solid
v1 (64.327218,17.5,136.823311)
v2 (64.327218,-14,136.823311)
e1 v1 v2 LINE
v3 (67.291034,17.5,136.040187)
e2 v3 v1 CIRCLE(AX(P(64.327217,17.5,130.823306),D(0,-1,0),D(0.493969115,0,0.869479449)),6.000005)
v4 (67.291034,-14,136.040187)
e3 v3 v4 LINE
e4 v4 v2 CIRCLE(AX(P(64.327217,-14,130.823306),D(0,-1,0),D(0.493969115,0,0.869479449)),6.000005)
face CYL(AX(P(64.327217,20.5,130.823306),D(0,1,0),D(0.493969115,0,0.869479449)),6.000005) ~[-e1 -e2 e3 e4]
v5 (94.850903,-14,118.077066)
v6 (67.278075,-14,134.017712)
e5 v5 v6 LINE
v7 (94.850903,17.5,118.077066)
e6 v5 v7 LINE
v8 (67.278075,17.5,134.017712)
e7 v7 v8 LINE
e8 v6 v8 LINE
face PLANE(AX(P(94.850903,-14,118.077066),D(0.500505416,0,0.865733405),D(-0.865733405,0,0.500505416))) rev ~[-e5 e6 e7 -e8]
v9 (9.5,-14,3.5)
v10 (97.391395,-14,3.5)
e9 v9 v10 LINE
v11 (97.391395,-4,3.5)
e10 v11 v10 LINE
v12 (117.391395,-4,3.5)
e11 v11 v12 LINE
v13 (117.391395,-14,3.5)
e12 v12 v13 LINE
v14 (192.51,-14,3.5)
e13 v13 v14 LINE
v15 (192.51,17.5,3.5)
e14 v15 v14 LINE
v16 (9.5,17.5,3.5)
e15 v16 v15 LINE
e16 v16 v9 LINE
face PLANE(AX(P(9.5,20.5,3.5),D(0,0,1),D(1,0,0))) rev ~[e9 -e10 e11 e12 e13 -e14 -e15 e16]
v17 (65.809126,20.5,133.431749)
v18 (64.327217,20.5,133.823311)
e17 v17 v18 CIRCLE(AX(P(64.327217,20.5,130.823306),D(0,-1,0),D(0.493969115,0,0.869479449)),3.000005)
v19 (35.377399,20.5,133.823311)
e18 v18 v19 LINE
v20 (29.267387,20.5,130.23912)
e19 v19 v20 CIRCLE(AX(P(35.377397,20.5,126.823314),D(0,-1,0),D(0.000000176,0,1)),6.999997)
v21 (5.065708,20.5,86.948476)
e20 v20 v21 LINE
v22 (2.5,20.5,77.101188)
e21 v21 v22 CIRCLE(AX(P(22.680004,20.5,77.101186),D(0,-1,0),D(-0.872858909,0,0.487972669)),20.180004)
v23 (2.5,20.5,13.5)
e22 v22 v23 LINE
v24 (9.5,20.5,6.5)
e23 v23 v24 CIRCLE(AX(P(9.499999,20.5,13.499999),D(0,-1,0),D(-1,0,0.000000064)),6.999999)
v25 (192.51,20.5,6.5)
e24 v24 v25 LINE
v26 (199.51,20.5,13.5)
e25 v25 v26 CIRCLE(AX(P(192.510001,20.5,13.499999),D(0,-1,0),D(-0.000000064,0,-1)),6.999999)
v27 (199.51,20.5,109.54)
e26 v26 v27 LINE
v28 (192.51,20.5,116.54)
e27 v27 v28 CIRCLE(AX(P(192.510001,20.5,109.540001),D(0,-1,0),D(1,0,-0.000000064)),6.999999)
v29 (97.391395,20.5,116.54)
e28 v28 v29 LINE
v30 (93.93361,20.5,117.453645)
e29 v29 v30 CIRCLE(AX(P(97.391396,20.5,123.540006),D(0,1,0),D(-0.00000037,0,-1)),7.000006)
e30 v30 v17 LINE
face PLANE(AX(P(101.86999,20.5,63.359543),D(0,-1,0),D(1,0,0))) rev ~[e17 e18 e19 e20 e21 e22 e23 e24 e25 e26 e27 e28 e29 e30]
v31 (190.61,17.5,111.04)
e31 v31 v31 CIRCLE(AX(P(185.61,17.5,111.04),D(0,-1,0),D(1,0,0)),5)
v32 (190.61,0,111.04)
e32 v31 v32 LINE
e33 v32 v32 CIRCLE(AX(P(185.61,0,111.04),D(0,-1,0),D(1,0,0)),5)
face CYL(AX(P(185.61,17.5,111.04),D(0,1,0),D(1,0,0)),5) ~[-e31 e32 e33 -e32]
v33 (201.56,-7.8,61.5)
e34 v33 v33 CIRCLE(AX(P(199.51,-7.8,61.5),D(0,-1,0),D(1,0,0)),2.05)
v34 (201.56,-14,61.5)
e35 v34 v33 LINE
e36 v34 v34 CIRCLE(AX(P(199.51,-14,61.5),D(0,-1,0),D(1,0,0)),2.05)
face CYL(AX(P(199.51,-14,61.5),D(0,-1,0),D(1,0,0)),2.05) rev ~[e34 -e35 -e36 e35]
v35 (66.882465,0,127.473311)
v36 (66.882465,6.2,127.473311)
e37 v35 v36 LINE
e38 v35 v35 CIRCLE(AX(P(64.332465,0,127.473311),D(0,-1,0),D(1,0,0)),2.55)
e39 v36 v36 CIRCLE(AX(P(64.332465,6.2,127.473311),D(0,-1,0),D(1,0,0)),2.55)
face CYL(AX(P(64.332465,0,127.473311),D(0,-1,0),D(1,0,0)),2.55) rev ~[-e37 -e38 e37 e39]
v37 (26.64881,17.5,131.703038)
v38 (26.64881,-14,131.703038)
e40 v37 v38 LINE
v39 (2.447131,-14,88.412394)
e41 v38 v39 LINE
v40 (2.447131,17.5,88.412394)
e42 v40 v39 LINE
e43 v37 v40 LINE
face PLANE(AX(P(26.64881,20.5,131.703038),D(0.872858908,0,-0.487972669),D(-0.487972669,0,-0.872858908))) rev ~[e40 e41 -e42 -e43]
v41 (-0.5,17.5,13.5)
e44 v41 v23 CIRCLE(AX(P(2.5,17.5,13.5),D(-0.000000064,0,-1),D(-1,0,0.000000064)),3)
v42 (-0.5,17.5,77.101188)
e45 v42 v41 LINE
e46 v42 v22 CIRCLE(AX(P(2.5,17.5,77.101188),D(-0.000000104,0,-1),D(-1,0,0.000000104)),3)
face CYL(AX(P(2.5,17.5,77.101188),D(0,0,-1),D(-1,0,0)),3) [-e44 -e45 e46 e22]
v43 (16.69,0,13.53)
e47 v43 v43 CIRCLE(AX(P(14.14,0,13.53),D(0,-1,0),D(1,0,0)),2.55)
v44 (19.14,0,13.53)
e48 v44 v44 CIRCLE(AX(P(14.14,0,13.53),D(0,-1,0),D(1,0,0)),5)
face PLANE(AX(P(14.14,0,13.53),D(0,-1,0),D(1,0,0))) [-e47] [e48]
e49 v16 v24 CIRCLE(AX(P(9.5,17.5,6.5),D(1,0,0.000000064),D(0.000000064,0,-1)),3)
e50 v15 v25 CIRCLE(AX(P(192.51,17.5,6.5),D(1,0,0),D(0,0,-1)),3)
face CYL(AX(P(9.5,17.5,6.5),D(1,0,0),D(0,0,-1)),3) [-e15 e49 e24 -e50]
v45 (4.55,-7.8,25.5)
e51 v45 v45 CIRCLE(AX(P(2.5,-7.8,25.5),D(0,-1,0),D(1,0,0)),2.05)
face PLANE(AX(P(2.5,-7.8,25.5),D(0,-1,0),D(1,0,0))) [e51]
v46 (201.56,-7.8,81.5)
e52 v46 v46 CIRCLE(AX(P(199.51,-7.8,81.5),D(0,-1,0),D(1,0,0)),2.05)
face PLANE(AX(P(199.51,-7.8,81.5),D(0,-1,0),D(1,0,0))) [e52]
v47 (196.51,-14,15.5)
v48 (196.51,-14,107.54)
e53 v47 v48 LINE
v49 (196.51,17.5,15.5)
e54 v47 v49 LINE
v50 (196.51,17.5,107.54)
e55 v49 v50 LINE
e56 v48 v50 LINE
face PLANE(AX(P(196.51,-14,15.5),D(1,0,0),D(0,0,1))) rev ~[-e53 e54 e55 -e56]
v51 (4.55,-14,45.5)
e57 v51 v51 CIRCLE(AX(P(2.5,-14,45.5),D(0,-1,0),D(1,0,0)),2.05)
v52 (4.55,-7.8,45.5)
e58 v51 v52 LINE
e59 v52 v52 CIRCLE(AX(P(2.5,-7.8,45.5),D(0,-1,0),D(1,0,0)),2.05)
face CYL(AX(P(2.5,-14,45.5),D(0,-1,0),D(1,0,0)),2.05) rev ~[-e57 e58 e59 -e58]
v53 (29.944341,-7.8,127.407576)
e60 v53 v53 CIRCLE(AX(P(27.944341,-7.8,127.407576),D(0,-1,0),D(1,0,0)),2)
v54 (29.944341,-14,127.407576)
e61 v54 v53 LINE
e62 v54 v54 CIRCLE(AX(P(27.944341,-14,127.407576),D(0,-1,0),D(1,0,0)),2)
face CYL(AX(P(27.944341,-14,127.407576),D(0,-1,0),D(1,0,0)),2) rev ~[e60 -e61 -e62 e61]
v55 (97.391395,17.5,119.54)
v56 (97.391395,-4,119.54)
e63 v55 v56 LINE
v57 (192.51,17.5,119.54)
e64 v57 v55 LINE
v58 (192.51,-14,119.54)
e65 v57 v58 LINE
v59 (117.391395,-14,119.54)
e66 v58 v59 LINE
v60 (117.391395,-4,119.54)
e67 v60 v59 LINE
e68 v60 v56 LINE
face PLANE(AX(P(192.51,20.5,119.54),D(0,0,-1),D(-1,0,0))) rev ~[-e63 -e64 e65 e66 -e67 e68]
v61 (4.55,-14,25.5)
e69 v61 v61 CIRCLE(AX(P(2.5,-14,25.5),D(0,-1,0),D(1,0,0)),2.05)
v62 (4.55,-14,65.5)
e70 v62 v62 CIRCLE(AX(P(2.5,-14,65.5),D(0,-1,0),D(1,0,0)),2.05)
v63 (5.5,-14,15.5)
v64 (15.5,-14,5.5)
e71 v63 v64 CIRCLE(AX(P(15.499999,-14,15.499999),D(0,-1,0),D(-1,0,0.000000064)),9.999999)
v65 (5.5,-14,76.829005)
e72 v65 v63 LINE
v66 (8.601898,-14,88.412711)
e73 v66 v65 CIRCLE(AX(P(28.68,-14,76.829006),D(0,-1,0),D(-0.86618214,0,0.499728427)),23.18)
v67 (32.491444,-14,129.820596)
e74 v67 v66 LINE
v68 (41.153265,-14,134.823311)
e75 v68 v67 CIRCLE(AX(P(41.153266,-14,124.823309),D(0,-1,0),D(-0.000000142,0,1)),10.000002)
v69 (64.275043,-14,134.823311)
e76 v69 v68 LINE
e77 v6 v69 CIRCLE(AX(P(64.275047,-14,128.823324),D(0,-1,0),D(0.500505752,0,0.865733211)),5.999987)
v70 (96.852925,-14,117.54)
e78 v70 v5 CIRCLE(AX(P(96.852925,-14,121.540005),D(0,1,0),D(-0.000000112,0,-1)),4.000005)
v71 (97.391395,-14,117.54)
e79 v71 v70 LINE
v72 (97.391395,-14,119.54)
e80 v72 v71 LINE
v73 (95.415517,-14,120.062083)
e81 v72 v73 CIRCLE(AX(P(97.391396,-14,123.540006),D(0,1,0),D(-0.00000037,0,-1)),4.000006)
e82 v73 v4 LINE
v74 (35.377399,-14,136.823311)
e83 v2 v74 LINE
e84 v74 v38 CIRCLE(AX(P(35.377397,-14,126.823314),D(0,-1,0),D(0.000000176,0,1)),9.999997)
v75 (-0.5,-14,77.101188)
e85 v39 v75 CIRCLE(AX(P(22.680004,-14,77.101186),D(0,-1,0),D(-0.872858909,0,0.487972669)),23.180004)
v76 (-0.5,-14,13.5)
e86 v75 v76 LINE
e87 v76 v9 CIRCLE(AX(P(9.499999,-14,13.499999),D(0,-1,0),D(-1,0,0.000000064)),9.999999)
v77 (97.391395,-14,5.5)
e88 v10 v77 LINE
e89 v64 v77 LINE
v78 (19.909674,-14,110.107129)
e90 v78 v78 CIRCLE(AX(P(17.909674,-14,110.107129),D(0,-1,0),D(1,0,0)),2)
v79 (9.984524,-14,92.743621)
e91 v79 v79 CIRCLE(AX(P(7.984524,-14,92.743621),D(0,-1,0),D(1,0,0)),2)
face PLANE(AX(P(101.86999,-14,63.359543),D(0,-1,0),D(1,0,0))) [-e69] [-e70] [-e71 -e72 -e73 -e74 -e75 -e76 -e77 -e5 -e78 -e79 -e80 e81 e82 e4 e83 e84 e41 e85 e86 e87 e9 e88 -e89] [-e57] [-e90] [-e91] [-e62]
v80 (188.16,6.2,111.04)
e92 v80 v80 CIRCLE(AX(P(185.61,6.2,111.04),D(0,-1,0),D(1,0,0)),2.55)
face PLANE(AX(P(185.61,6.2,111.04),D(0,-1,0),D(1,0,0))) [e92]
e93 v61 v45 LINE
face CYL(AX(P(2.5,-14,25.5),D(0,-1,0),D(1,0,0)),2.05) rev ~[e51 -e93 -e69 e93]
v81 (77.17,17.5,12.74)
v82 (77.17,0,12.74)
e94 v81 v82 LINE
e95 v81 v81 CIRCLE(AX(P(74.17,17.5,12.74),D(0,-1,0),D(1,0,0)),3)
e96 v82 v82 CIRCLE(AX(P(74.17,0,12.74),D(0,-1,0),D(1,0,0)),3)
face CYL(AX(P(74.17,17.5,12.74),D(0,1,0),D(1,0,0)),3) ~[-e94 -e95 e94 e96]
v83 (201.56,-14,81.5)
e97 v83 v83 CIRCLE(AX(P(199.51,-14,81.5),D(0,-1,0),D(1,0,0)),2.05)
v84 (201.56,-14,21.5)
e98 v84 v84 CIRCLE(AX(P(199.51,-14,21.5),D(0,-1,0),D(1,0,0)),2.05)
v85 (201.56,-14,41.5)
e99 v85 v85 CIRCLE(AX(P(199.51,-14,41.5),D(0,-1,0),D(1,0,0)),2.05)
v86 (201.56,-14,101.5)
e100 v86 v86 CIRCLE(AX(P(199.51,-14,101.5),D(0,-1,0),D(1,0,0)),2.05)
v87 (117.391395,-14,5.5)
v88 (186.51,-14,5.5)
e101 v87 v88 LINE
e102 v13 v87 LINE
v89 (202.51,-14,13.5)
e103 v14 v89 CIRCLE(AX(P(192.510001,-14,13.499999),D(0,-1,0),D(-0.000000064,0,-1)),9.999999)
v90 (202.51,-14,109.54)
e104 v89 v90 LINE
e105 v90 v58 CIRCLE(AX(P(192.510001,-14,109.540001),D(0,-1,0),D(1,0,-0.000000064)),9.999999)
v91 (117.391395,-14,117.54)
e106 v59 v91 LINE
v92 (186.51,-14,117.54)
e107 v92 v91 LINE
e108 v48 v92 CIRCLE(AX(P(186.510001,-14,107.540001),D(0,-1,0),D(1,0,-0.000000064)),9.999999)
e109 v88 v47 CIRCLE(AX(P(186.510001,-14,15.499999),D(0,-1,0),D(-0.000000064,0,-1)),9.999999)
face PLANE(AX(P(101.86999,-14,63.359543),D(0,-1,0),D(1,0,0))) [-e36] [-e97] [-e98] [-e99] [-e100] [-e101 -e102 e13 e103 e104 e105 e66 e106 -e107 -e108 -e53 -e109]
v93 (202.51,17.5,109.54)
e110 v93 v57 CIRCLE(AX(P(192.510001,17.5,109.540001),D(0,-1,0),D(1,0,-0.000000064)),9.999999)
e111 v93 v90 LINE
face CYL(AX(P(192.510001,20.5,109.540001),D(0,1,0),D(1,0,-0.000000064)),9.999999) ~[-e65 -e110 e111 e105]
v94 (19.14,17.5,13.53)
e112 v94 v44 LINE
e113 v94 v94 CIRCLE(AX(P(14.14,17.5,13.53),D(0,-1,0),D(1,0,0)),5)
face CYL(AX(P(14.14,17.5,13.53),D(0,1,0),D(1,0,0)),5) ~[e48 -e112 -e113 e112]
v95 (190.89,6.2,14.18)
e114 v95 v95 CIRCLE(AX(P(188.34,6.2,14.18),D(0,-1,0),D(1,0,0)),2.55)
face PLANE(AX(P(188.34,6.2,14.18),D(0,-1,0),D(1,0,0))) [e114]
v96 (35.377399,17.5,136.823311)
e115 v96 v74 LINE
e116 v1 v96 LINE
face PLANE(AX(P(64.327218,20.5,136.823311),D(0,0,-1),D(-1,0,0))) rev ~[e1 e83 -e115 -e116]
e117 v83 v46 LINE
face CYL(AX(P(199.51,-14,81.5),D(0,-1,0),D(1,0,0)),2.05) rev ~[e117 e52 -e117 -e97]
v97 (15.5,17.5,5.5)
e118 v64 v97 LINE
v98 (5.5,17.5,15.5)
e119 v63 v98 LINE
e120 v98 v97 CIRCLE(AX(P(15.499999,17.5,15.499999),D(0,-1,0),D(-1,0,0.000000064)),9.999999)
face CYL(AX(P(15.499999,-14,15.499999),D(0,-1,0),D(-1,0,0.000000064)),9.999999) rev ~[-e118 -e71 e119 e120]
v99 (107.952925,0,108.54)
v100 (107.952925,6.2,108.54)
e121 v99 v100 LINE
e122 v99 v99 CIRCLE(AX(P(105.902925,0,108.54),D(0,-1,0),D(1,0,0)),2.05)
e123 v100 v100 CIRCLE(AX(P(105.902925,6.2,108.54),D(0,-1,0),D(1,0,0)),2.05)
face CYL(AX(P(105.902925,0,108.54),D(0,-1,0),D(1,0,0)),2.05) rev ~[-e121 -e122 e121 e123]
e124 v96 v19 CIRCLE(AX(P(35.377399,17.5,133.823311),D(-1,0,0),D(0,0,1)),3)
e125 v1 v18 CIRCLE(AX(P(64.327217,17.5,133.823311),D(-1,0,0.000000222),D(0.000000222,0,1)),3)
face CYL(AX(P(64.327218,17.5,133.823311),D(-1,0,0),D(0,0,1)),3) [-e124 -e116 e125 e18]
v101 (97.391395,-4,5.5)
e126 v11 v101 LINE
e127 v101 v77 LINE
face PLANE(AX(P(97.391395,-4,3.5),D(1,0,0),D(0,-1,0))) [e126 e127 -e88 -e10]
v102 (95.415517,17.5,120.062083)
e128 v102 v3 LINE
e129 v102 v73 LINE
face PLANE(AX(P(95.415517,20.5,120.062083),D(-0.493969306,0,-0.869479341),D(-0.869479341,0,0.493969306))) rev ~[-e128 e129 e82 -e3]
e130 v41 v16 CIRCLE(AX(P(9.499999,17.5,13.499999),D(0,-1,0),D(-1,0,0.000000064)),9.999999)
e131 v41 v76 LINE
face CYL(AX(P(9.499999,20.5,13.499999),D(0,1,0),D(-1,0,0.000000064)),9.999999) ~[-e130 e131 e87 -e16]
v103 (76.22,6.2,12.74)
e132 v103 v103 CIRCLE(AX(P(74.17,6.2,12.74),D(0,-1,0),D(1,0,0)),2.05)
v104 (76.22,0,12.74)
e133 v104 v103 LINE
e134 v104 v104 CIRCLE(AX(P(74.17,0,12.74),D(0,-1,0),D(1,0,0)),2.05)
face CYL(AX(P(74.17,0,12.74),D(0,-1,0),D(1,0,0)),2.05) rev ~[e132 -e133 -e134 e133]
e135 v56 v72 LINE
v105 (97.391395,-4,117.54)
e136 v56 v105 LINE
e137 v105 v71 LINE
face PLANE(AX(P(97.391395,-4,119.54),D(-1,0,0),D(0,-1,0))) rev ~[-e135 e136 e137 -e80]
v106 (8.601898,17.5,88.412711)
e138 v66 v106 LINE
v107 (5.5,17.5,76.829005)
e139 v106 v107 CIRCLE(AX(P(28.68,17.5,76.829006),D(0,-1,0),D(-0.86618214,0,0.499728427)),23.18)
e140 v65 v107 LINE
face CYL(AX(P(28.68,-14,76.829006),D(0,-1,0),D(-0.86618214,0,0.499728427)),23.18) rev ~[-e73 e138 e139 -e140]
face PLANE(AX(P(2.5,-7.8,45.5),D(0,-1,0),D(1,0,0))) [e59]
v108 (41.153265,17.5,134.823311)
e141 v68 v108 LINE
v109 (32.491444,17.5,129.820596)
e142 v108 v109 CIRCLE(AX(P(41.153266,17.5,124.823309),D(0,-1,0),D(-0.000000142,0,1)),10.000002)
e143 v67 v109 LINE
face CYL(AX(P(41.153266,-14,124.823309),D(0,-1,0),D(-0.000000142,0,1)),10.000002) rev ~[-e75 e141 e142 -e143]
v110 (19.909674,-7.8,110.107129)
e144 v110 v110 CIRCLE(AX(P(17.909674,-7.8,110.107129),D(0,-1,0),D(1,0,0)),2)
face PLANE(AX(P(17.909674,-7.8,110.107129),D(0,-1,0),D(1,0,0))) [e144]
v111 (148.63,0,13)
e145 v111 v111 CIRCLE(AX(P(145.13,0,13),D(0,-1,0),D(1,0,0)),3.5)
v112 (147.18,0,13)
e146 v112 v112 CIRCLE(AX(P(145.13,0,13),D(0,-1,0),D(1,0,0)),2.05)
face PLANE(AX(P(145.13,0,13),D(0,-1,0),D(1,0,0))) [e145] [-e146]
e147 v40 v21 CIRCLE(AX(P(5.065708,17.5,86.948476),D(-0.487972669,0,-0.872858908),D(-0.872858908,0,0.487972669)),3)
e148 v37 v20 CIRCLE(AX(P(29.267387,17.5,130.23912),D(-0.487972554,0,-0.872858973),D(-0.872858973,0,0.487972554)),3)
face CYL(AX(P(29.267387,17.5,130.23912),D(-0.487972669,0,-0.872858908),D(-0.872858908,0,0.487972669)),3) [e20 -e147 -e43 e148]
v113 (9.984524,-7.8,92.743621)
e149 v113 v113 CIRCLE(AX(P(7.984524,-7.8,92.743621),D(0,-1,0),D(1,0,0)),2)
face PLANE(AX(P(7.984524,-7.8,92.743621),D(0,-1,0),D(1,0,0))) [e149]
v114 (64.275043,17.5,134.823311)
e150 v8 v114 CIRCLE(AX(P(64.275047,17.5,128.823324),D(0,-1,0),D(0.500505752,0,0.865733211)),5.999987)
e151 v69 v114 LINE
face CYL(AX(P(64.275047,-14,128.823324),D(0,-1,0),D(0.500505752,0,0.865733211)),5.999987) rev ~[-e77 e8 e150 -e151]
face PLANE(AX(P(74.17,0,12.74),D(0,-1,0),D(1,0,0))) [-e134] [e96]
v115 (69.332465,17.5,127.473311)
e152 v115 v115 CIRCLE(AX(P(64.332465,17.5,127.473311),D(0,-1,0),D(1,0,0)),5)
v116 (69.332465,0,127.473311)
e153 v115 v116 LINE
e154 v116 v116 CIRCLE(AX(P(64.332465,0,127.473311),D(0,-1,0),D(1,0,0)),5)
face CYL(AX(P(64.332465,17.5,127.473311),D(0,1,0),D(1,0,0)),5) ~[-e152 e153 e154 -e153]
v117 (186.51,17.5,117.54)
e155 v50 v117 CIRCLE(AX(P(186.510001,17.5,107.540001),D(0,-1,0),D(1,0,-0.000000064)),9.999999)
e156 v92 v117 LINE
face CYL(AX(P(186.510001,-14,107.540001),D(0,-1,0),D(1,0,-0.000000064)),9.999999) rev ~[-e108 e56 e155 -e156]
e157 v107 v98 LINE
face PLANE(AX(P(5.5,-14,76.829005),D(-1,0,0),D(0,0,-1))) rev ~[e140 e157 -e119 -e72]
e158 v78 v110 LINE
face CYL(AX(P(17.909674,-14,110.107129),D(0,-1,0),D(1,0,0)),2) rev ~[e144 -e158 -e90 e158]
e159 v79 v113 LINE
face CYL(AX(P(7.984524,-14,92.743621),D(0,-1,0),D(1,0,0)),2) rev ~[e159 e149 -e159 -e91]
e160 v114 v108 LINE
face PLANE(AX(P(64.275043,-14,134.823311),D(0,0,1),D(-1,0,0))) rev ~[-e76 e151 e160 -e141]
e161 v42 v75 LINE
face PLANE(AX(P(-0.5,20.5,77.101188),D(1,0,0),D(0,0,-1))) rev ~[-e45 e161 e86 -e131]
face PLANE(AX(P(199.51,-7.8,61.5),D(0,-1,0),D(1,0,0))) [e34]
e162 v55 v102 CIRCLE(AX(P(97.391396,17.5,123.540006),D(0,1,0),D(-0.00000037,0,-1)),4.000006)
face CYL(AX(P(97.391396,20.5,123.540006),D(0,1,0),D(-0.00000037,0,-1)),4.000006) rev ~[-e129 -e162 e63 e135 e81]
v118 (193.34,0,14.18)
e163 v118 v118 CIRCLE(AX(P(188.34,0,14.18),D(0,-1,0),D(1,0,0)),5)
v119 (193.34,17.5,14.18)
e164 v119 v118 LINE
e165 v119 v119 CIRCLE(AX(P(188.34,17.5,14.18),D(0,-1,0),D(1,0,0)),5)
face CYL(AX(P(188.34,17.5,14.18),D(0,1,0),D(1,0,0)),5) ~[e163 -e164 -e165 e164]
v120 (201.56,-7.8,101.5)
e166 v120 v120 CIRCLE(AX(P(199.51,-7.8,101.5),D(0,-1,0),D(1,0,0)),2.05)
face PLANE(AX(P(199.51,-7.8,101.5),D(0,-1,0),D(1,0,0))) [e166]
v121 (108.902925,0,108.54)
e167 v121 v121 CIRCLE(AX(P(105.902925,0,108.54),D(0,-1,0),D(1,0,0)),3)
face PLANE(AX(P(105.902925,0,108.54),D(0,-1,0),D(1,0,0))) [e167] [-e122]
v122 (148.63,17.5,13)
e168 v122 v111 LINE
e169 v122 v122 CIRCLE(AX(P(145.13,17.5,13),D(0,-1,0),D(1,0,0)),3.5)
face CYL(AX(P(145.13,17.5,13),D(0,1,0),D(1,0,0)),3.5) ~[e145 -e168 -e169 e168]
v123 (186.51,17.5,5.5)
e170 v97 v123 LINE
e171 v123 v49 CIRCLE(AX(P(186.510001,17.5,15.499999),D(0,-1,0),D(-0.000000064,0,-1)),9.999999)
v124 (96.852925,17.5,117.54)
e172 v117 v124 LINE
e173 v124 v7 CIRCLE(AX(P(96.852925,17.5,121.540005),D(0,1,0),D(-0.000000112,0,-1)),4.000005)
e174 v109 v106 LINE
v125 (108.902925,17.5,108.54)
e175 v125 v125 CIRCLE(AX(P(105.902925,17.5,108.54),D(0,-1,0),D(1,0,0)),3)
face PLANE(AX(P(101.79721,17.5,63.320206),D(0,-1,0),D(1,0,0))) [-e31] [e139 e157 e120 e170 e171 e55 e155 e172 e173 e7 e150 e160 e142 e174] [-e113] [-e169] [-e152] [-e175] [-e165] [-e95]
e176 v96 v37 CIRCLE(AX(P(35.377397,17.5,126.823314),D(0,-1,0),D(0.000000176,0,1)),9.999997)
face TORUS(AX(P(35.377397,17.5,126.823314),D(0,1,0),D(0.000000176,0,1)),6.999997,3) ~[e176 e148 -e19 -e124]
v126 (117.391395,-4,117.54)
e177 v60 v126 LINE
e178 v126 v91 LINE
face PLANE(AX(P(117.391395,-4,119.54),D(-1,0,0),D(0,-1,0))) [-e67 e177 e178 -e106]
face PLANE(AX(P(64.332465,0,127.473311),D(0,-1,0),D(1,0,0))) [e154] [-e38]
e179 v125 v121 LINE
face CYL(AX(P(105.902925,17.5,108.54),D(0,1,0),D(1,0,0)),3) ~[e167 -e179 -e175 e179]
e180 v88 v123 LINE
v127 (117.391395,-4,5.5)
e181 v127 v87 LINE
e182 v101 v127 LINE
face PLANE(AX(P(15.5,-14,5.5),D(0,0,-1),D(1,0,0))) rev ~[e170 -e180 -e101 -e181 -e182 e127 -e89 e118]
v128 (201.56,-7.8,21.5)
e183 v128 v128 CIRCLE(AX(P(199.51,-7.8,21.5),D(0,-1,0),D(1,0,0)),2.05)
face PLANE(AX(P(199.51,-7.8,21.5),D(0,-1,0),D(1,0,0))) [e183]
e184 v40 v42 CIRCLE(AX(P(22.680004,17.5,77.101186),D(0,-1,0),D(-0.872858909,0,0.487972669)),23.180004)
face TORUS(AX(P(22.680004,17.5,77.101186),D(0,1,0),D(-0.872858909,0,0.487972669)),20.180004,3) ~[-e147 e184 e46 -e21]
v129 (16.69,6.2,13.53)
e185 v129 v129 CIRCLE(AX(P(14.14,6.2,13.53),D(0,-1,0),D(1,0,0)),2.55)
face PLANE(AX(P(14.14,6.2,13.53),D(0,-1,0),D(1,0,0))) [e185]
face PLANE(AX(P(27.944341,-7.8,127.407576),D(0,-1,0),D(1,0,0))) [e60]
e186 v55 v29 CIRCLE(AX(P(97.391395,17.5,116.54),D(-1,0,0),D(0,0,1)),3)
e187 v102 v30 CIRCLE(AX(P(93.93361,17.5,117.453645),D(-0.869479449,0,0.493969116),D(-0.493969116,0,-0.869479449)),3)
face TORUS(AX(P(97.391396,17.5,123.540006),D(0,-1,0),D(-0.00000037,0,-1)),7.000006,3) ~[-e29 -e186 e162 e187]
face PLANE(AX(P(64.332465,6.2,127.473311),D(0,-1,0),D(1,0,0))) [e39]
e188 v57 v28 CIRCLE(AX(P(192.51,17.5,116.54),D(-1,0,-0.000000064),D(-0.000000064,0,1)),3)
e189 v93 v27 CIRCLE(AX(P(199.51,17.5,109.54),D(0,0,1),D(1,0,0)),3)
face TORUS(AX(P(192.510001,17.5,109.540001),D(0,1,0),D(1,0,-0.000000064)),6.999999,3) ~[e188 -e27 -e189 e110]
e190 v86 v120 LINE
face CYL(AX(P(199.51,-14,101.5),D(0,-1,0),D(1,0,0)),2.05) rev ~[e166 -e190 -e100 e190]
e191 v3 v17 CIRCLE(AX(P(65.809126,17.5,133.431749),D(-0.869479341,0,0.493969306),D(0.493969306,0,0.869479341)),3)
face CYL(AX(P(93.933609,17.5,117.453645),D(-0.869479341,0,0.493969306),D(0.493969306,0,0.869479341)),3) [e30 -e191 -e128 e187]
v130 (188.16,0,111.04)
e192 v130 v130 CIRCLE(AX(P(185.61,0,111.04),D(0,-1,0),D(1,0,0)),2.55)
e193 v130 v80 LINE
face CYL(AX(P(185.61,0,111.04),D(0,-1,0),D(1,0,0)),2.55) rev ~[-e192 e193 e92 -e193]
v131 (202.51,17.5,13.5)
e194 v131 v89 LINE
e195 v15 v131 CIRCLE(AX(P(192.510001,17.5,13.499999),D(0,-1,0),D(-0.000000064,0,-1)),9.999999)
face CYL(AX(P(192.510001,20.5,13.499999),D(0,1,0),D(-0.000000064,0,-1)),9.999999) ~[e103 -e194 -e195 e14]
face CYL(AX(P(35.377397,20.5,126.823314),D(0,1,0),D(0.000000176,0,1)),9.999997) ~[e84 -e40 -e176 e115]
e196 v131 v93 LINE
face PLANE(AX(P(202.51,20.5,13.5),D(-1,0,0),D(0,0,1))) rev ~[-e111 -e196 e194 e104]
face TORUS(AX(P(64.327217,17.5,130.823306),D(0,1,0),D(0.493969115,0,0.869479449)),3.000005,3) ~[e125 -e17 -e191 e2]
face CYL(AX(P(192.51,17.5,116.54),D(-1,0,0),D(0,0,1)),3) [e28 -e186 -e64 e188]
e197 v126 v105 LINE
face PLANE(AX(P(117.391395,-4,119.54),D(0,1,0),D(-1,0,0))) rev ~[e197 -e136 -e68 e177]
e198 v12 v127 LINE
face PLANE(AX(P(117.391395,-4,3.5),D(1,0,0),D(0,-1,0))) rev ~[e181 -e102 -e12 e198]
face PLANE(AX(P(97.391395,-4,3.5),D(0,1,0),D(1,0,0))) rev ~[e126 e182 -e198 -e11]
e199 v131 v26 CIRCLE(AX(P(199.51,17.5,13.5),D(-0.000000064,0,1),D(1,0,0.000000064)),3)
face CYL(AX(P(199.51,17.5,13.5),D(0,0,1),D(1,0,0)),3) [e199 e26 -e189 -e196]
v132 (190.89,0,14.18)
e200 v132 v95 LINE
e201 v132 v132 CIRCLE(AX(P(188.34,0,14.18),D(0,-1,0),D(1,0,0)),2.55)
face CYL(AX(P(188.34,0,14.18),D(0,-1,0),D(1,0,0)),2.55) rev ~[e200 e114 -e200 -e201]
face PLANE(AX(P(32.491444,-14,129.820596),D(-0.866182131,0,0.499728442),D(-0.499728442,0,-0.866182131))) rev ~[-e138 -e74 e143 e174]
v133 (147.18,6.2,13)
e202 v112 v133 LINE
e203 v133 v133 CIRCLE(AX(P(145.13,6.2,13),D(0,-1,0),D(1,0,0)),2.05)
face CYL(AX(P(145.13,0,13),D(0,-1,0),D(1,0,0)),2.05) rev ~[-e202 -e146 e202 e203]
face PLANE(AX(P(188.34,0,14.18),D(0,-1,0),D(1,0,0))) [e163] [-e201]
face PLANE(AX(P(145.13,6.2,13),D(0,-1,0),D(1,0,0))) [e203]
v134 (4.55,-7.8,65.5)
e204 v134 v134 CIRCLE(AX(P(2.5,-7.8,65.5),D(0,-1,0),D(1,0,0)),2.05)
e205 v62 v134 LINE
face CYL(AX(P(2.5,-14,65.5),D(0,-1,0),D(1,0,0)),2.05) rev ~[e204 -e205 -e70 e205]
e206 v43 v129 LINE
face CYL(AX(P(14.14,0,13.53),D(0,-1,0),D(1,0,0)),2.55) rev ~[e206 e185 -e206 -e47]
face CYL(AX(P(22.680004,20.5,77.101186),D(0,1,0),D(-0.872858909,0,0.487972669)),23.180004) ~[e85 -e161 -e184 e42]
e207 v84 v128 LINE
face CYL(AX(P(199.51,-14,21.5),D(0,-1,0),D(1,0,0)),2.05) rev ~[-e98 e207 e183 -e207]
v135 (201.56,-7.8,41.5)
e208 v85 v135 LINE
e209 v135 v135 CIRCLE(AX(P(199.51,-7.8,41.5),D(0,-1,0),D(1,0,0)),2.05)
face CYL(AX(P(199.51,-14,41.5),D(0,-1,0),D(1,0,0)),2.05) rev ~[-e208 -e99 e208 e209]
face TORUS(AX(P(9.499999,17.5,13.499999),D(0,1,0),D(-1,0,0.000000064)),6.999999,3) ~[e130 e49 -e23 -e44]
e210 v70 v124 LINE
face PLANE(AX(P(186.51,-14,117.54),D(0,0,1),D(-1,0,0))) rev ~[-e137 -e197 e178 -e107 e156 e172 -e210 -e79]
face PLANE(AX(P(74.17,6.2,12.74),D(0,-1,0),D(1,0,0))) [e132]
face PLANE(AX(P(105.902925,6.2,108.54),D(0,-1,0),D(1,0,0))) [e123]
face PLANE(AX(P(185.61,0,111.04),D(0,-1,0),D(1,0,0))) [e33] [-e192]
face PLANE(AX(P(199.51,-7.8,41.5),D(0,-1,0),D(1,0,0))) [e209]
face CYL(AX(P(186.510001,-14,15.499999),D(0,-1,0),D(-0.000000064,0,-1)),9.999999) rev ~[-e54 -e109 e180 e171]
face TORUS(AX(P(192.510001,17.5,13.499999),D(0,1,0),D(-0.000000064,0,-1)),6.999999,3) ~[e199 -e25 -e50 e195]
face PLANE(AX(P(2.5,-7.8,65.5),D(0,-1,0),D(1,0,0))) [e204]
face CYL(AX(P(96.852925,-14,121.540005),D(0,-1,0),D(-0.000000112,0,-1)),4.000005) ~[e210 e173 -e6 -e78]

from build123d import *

# Parameters (mm, degrees)
PAD024_DEPTH    = 34.5
POCKET023_DEPTH = 31.5
SKETCH055_R     = 2.05
SKETCH055_R_2   = 2
POCKET024_DEPTH = 6.2
SKETCH057_R     = 3
SKETCH057_R_2   = 5
SKETCH057_R_3   = 3.5
PAD025_DEPTH    = 17.5
SKETCH058_R     = 2.55
SKETCH058_R_2   = 2.05
POCKET026_DEPTH = 6.2
FILLET001_R     = 3
SKETCH059_W     = 20
SKETCH059_H     = 10
POCKET027_DEPTH = 5
SKETCH060_W     = 20
SKETCH060_H     = 10
POCKET028_DEPTH = 5


with BuildPart() as part:
    # Sketch052 → Pad024 (new body)
    with BuildSketch(Plane.XZ):
        with BuildLine():
            ThreePointArc((-0.5, 13.5), (2.428932, 6.428932), (9.5, 3.5))
            Line((9.5, 3.5), (192.51, 3.5))
            ThreePointArc((192.51, 3.5), (199.581068, 6.428932), (202.51, 13.5))
            Line((202.51, 13.5), (202.51, 109.54))
            ThreePointArc((202.51, 109.54), (199.581068, 116.611068), (192.51, 119.54))
            Line((192.51, 119.54), (97.391395, 119.54))
            ThreePointArc((97.391395, 119.54), (96.36955, 119.672723), (95.415517, 120.062083))
            Line((95.415517, 120.062083), (67.291034, 136.040187))
            ThreePointArc((67.291034, 136.040187), (65.859984, 136.624227), (64.327218, 136.823311))
            Line((64.327218, 136.823311), (35.377399, 136.823311))
            ThreePointArc((35.377399, 136.823311), (30.31762, 135.448776), (26.64881, 131.703038))
            Line((26.64881, 131.703038), (2.447131, 88.412394))
            ThreePointArc((2.447131, 88.412394), (0.24888, 82.945607), (-0.5, 77.101188))
            Line((-0.5, 77.101188), (-0.5, 13.5))
        make_face()
    extrude(amount=PAD024_DEPTH)

    # Sketch054 (on Face16 of Pad024) → Pocket023 (cut)
    with BuildSketch(Plane.XZ.offset(34.5)):
        with BuildLine():
            ThreePointArc((5.5, 15.5), (8.428932, 8.428932), (15.5, 5.5))
            Line((15.5, 5.5), (186.51, 5.5))
            ThreePointArc((186.51, 5.5), (193.581068, 8.428932), (196.51, 15.5))
            Line((196.51, 15.5), (196.51, 107.54))
            ThreePointArc((196.51, 107.54), (193.581068, 114.611068), (186.51, 117.54))
            Line((186.51, 117.54), (96.852925, 117.54))
            ThreePointArc((96.852925, 117.54), (95.816521, 117.676599), (94.850903, 118.077066))
            Line((94.850903, 118.077066), (67.278075, 134.017712))
            ThreePointArc((67.278075, 134.017712), (65.829649, 134.618413), (64.275043, 134.823311))
            Line((64.275043, 134.823311), (41.153265, 134.823311))
            ThreePointArc((41.153265, 134.823311), (36.151908, 133.482781), (32.491444, 129.820596))
            Line((32.491444, 129.820596), (8.601898, 88.412711))
            ThreePointArc((8.601898, 88.412711), (6.288899, 82.824921), (5.5, 76.829005))
            Line((5.5, 76.829005), (5.5, 15.5))
        make_face()
    extrude(amount=-POCKET023_DEPTH, mode=Mode.SUBTRACT)

    # Sketch055 (on Face5 of Pocket023) → Pocket024 (cut)
    with BuildSketch(Plane.XZ.offset(34.5)):
        with Locations((199.51, 21.5)):
            Circle(SKETCH055_R)
        with Locations((199.51, 101.5)):
            Circle(SKETCH055_R)
        with Locations((199.51, 41.5)):
            Circle(SKETCH055_R)
        with Locations((199.51, 81.5)):
            Circle(SKETCH055_R)
        with Locations((199.51, 61.5)):
            Circle(SKETCH055_R)
        with Locations((2.5, 25.5)):
            Circle(SKETCH055_R)
        with Locations((2.5, 45.5)):
            Circle(SKETCH055_R)
        with Locations((2.5, 65.5)):
            Circle(SKETCH055_R)
        with Locations((7.984524, 92.743621)):
            Circle(SKETCH055_R_2)
        with Locations((17.909674, 110.107129)):
            Circle(SKETCH055_R_2)
        with Locations((27.944341, 127.407576)):
            Circle(SKETCH055_R_2)
    extrude(amount=-POCKET024_DEPTH, mode=Mode.SUBTRACT)

    # Sketch057 (on Face51 of Pocket024) → Pad025 (join)
    with BuildSketch(Plane.XZ.offset(3)):
        with Locations((74.17, 12.74)):
            Circle(SKETCH057_R)
        with Locations((64.332465, 127.473311)):
            Circle(SKETCH057_R_2)
        with Locations((105.902925, 108.54)):
            Circle(SKETCH057_R)
        with Locations((145.13, 13)):
            Circle(SKETCH057_R_3)
        with Locations((188.34, 14.18)):
            Circle(SKETCH057_R_2)
        with Locations((185.61, 111.04)):
            Circle(SKETCH057_R_2)
        with Locations((14.14, 13.53)):
            Circle(SKETCH057_R_2)
    extrude(amount=PAD025_DEPTH)

    # Sketch058 (on Face63 of Pad025) → Pocket026 (cut)
    with BuildSketch(Plane.XZ.offset(20.5)):
        with Locations((64.332465, 127.473311)):
            Circle(SKETCH058_R)
        with Locations((105.902925, 108.54)):
            Circle(SKETCH058_R_2)
        with Locations((14.14, 13.53)):
            Circle(SKETCH058_R)
        with Locations((74.17, 12.74)):
            Circle(SKETCH058_R_2)
        with Locations((145.13, 13)):
            Circle(SKETCH058_R_2)
        with Locations((188.34, 14.18)):
            Circle(SKETCH058_R)
        with Locations((185.61, 111.04)):
            Circle(SKETCH058_R)
    extrude(amount=-POCKET026_DEPTH, mode=Mode.SUBTRACT)

    # Fillet001
    fillet001_edges = [part.edges().sort_by_distance(p)[0] for p in [
        (2.428932, 0, 6.428932),
        (101.005, 0, 3.5),
        (199.581068, 0, 6.428932),
        (202.51, 0, 61.52),
        (199.581068, 0, 116.611068),
        (144.950697, 0, 119.54),
        (96.36955, 0, 119.672723),
        (81.353275, 0, 128.051135),
        (65.859984, 0, 136.624227),
        (49.852308, 0, 136.823311),
        (30.31762, 0, 135.448776),
        (14.54797, 0, 110.057716),
        (0.24888, 0, 82.945607),
        (-0.5, 0, 45.300594),
    ]]
    fillet(fillet001_edges, radius=FILLET001_R)

    # Sketch059 (on Face16 of Fillet001) → Pocket027 (cut)
    with BuildSketch(Plane(origin=(0, 0, 119.54), x_dir=(-1, 0, 0), z_dir=(0, 0, 1))):
        with Locations((-107.391395, 29.5)):
            Rectangle(SKETCH059_W, SKETCH059_H)
    extrude(amount=-POCKET027_DEPTH, mode=Mode.SUBTRACT)

    # Sketch060 (on Face5 of Pocket027) → Pocket028 (cut)
    with BuildSketch(Plane(origin=(0, 0, 3.5), x_dir=(1, 0, 0), z_dir=(0, 0, -1))):
        with Locations((107.391395, 29.5)):
            Rectangle(SKETCH060_W, SKETCH060_H)
    extrude(amount=-POCKET028_DEPTH, mode=Mode.SUBTRACT)


with BuildPart() as part_1:
    # Body006 placement: moved
    add(part.part.moved(Location((0, 20.5, 0))))


solid = part_1.part
